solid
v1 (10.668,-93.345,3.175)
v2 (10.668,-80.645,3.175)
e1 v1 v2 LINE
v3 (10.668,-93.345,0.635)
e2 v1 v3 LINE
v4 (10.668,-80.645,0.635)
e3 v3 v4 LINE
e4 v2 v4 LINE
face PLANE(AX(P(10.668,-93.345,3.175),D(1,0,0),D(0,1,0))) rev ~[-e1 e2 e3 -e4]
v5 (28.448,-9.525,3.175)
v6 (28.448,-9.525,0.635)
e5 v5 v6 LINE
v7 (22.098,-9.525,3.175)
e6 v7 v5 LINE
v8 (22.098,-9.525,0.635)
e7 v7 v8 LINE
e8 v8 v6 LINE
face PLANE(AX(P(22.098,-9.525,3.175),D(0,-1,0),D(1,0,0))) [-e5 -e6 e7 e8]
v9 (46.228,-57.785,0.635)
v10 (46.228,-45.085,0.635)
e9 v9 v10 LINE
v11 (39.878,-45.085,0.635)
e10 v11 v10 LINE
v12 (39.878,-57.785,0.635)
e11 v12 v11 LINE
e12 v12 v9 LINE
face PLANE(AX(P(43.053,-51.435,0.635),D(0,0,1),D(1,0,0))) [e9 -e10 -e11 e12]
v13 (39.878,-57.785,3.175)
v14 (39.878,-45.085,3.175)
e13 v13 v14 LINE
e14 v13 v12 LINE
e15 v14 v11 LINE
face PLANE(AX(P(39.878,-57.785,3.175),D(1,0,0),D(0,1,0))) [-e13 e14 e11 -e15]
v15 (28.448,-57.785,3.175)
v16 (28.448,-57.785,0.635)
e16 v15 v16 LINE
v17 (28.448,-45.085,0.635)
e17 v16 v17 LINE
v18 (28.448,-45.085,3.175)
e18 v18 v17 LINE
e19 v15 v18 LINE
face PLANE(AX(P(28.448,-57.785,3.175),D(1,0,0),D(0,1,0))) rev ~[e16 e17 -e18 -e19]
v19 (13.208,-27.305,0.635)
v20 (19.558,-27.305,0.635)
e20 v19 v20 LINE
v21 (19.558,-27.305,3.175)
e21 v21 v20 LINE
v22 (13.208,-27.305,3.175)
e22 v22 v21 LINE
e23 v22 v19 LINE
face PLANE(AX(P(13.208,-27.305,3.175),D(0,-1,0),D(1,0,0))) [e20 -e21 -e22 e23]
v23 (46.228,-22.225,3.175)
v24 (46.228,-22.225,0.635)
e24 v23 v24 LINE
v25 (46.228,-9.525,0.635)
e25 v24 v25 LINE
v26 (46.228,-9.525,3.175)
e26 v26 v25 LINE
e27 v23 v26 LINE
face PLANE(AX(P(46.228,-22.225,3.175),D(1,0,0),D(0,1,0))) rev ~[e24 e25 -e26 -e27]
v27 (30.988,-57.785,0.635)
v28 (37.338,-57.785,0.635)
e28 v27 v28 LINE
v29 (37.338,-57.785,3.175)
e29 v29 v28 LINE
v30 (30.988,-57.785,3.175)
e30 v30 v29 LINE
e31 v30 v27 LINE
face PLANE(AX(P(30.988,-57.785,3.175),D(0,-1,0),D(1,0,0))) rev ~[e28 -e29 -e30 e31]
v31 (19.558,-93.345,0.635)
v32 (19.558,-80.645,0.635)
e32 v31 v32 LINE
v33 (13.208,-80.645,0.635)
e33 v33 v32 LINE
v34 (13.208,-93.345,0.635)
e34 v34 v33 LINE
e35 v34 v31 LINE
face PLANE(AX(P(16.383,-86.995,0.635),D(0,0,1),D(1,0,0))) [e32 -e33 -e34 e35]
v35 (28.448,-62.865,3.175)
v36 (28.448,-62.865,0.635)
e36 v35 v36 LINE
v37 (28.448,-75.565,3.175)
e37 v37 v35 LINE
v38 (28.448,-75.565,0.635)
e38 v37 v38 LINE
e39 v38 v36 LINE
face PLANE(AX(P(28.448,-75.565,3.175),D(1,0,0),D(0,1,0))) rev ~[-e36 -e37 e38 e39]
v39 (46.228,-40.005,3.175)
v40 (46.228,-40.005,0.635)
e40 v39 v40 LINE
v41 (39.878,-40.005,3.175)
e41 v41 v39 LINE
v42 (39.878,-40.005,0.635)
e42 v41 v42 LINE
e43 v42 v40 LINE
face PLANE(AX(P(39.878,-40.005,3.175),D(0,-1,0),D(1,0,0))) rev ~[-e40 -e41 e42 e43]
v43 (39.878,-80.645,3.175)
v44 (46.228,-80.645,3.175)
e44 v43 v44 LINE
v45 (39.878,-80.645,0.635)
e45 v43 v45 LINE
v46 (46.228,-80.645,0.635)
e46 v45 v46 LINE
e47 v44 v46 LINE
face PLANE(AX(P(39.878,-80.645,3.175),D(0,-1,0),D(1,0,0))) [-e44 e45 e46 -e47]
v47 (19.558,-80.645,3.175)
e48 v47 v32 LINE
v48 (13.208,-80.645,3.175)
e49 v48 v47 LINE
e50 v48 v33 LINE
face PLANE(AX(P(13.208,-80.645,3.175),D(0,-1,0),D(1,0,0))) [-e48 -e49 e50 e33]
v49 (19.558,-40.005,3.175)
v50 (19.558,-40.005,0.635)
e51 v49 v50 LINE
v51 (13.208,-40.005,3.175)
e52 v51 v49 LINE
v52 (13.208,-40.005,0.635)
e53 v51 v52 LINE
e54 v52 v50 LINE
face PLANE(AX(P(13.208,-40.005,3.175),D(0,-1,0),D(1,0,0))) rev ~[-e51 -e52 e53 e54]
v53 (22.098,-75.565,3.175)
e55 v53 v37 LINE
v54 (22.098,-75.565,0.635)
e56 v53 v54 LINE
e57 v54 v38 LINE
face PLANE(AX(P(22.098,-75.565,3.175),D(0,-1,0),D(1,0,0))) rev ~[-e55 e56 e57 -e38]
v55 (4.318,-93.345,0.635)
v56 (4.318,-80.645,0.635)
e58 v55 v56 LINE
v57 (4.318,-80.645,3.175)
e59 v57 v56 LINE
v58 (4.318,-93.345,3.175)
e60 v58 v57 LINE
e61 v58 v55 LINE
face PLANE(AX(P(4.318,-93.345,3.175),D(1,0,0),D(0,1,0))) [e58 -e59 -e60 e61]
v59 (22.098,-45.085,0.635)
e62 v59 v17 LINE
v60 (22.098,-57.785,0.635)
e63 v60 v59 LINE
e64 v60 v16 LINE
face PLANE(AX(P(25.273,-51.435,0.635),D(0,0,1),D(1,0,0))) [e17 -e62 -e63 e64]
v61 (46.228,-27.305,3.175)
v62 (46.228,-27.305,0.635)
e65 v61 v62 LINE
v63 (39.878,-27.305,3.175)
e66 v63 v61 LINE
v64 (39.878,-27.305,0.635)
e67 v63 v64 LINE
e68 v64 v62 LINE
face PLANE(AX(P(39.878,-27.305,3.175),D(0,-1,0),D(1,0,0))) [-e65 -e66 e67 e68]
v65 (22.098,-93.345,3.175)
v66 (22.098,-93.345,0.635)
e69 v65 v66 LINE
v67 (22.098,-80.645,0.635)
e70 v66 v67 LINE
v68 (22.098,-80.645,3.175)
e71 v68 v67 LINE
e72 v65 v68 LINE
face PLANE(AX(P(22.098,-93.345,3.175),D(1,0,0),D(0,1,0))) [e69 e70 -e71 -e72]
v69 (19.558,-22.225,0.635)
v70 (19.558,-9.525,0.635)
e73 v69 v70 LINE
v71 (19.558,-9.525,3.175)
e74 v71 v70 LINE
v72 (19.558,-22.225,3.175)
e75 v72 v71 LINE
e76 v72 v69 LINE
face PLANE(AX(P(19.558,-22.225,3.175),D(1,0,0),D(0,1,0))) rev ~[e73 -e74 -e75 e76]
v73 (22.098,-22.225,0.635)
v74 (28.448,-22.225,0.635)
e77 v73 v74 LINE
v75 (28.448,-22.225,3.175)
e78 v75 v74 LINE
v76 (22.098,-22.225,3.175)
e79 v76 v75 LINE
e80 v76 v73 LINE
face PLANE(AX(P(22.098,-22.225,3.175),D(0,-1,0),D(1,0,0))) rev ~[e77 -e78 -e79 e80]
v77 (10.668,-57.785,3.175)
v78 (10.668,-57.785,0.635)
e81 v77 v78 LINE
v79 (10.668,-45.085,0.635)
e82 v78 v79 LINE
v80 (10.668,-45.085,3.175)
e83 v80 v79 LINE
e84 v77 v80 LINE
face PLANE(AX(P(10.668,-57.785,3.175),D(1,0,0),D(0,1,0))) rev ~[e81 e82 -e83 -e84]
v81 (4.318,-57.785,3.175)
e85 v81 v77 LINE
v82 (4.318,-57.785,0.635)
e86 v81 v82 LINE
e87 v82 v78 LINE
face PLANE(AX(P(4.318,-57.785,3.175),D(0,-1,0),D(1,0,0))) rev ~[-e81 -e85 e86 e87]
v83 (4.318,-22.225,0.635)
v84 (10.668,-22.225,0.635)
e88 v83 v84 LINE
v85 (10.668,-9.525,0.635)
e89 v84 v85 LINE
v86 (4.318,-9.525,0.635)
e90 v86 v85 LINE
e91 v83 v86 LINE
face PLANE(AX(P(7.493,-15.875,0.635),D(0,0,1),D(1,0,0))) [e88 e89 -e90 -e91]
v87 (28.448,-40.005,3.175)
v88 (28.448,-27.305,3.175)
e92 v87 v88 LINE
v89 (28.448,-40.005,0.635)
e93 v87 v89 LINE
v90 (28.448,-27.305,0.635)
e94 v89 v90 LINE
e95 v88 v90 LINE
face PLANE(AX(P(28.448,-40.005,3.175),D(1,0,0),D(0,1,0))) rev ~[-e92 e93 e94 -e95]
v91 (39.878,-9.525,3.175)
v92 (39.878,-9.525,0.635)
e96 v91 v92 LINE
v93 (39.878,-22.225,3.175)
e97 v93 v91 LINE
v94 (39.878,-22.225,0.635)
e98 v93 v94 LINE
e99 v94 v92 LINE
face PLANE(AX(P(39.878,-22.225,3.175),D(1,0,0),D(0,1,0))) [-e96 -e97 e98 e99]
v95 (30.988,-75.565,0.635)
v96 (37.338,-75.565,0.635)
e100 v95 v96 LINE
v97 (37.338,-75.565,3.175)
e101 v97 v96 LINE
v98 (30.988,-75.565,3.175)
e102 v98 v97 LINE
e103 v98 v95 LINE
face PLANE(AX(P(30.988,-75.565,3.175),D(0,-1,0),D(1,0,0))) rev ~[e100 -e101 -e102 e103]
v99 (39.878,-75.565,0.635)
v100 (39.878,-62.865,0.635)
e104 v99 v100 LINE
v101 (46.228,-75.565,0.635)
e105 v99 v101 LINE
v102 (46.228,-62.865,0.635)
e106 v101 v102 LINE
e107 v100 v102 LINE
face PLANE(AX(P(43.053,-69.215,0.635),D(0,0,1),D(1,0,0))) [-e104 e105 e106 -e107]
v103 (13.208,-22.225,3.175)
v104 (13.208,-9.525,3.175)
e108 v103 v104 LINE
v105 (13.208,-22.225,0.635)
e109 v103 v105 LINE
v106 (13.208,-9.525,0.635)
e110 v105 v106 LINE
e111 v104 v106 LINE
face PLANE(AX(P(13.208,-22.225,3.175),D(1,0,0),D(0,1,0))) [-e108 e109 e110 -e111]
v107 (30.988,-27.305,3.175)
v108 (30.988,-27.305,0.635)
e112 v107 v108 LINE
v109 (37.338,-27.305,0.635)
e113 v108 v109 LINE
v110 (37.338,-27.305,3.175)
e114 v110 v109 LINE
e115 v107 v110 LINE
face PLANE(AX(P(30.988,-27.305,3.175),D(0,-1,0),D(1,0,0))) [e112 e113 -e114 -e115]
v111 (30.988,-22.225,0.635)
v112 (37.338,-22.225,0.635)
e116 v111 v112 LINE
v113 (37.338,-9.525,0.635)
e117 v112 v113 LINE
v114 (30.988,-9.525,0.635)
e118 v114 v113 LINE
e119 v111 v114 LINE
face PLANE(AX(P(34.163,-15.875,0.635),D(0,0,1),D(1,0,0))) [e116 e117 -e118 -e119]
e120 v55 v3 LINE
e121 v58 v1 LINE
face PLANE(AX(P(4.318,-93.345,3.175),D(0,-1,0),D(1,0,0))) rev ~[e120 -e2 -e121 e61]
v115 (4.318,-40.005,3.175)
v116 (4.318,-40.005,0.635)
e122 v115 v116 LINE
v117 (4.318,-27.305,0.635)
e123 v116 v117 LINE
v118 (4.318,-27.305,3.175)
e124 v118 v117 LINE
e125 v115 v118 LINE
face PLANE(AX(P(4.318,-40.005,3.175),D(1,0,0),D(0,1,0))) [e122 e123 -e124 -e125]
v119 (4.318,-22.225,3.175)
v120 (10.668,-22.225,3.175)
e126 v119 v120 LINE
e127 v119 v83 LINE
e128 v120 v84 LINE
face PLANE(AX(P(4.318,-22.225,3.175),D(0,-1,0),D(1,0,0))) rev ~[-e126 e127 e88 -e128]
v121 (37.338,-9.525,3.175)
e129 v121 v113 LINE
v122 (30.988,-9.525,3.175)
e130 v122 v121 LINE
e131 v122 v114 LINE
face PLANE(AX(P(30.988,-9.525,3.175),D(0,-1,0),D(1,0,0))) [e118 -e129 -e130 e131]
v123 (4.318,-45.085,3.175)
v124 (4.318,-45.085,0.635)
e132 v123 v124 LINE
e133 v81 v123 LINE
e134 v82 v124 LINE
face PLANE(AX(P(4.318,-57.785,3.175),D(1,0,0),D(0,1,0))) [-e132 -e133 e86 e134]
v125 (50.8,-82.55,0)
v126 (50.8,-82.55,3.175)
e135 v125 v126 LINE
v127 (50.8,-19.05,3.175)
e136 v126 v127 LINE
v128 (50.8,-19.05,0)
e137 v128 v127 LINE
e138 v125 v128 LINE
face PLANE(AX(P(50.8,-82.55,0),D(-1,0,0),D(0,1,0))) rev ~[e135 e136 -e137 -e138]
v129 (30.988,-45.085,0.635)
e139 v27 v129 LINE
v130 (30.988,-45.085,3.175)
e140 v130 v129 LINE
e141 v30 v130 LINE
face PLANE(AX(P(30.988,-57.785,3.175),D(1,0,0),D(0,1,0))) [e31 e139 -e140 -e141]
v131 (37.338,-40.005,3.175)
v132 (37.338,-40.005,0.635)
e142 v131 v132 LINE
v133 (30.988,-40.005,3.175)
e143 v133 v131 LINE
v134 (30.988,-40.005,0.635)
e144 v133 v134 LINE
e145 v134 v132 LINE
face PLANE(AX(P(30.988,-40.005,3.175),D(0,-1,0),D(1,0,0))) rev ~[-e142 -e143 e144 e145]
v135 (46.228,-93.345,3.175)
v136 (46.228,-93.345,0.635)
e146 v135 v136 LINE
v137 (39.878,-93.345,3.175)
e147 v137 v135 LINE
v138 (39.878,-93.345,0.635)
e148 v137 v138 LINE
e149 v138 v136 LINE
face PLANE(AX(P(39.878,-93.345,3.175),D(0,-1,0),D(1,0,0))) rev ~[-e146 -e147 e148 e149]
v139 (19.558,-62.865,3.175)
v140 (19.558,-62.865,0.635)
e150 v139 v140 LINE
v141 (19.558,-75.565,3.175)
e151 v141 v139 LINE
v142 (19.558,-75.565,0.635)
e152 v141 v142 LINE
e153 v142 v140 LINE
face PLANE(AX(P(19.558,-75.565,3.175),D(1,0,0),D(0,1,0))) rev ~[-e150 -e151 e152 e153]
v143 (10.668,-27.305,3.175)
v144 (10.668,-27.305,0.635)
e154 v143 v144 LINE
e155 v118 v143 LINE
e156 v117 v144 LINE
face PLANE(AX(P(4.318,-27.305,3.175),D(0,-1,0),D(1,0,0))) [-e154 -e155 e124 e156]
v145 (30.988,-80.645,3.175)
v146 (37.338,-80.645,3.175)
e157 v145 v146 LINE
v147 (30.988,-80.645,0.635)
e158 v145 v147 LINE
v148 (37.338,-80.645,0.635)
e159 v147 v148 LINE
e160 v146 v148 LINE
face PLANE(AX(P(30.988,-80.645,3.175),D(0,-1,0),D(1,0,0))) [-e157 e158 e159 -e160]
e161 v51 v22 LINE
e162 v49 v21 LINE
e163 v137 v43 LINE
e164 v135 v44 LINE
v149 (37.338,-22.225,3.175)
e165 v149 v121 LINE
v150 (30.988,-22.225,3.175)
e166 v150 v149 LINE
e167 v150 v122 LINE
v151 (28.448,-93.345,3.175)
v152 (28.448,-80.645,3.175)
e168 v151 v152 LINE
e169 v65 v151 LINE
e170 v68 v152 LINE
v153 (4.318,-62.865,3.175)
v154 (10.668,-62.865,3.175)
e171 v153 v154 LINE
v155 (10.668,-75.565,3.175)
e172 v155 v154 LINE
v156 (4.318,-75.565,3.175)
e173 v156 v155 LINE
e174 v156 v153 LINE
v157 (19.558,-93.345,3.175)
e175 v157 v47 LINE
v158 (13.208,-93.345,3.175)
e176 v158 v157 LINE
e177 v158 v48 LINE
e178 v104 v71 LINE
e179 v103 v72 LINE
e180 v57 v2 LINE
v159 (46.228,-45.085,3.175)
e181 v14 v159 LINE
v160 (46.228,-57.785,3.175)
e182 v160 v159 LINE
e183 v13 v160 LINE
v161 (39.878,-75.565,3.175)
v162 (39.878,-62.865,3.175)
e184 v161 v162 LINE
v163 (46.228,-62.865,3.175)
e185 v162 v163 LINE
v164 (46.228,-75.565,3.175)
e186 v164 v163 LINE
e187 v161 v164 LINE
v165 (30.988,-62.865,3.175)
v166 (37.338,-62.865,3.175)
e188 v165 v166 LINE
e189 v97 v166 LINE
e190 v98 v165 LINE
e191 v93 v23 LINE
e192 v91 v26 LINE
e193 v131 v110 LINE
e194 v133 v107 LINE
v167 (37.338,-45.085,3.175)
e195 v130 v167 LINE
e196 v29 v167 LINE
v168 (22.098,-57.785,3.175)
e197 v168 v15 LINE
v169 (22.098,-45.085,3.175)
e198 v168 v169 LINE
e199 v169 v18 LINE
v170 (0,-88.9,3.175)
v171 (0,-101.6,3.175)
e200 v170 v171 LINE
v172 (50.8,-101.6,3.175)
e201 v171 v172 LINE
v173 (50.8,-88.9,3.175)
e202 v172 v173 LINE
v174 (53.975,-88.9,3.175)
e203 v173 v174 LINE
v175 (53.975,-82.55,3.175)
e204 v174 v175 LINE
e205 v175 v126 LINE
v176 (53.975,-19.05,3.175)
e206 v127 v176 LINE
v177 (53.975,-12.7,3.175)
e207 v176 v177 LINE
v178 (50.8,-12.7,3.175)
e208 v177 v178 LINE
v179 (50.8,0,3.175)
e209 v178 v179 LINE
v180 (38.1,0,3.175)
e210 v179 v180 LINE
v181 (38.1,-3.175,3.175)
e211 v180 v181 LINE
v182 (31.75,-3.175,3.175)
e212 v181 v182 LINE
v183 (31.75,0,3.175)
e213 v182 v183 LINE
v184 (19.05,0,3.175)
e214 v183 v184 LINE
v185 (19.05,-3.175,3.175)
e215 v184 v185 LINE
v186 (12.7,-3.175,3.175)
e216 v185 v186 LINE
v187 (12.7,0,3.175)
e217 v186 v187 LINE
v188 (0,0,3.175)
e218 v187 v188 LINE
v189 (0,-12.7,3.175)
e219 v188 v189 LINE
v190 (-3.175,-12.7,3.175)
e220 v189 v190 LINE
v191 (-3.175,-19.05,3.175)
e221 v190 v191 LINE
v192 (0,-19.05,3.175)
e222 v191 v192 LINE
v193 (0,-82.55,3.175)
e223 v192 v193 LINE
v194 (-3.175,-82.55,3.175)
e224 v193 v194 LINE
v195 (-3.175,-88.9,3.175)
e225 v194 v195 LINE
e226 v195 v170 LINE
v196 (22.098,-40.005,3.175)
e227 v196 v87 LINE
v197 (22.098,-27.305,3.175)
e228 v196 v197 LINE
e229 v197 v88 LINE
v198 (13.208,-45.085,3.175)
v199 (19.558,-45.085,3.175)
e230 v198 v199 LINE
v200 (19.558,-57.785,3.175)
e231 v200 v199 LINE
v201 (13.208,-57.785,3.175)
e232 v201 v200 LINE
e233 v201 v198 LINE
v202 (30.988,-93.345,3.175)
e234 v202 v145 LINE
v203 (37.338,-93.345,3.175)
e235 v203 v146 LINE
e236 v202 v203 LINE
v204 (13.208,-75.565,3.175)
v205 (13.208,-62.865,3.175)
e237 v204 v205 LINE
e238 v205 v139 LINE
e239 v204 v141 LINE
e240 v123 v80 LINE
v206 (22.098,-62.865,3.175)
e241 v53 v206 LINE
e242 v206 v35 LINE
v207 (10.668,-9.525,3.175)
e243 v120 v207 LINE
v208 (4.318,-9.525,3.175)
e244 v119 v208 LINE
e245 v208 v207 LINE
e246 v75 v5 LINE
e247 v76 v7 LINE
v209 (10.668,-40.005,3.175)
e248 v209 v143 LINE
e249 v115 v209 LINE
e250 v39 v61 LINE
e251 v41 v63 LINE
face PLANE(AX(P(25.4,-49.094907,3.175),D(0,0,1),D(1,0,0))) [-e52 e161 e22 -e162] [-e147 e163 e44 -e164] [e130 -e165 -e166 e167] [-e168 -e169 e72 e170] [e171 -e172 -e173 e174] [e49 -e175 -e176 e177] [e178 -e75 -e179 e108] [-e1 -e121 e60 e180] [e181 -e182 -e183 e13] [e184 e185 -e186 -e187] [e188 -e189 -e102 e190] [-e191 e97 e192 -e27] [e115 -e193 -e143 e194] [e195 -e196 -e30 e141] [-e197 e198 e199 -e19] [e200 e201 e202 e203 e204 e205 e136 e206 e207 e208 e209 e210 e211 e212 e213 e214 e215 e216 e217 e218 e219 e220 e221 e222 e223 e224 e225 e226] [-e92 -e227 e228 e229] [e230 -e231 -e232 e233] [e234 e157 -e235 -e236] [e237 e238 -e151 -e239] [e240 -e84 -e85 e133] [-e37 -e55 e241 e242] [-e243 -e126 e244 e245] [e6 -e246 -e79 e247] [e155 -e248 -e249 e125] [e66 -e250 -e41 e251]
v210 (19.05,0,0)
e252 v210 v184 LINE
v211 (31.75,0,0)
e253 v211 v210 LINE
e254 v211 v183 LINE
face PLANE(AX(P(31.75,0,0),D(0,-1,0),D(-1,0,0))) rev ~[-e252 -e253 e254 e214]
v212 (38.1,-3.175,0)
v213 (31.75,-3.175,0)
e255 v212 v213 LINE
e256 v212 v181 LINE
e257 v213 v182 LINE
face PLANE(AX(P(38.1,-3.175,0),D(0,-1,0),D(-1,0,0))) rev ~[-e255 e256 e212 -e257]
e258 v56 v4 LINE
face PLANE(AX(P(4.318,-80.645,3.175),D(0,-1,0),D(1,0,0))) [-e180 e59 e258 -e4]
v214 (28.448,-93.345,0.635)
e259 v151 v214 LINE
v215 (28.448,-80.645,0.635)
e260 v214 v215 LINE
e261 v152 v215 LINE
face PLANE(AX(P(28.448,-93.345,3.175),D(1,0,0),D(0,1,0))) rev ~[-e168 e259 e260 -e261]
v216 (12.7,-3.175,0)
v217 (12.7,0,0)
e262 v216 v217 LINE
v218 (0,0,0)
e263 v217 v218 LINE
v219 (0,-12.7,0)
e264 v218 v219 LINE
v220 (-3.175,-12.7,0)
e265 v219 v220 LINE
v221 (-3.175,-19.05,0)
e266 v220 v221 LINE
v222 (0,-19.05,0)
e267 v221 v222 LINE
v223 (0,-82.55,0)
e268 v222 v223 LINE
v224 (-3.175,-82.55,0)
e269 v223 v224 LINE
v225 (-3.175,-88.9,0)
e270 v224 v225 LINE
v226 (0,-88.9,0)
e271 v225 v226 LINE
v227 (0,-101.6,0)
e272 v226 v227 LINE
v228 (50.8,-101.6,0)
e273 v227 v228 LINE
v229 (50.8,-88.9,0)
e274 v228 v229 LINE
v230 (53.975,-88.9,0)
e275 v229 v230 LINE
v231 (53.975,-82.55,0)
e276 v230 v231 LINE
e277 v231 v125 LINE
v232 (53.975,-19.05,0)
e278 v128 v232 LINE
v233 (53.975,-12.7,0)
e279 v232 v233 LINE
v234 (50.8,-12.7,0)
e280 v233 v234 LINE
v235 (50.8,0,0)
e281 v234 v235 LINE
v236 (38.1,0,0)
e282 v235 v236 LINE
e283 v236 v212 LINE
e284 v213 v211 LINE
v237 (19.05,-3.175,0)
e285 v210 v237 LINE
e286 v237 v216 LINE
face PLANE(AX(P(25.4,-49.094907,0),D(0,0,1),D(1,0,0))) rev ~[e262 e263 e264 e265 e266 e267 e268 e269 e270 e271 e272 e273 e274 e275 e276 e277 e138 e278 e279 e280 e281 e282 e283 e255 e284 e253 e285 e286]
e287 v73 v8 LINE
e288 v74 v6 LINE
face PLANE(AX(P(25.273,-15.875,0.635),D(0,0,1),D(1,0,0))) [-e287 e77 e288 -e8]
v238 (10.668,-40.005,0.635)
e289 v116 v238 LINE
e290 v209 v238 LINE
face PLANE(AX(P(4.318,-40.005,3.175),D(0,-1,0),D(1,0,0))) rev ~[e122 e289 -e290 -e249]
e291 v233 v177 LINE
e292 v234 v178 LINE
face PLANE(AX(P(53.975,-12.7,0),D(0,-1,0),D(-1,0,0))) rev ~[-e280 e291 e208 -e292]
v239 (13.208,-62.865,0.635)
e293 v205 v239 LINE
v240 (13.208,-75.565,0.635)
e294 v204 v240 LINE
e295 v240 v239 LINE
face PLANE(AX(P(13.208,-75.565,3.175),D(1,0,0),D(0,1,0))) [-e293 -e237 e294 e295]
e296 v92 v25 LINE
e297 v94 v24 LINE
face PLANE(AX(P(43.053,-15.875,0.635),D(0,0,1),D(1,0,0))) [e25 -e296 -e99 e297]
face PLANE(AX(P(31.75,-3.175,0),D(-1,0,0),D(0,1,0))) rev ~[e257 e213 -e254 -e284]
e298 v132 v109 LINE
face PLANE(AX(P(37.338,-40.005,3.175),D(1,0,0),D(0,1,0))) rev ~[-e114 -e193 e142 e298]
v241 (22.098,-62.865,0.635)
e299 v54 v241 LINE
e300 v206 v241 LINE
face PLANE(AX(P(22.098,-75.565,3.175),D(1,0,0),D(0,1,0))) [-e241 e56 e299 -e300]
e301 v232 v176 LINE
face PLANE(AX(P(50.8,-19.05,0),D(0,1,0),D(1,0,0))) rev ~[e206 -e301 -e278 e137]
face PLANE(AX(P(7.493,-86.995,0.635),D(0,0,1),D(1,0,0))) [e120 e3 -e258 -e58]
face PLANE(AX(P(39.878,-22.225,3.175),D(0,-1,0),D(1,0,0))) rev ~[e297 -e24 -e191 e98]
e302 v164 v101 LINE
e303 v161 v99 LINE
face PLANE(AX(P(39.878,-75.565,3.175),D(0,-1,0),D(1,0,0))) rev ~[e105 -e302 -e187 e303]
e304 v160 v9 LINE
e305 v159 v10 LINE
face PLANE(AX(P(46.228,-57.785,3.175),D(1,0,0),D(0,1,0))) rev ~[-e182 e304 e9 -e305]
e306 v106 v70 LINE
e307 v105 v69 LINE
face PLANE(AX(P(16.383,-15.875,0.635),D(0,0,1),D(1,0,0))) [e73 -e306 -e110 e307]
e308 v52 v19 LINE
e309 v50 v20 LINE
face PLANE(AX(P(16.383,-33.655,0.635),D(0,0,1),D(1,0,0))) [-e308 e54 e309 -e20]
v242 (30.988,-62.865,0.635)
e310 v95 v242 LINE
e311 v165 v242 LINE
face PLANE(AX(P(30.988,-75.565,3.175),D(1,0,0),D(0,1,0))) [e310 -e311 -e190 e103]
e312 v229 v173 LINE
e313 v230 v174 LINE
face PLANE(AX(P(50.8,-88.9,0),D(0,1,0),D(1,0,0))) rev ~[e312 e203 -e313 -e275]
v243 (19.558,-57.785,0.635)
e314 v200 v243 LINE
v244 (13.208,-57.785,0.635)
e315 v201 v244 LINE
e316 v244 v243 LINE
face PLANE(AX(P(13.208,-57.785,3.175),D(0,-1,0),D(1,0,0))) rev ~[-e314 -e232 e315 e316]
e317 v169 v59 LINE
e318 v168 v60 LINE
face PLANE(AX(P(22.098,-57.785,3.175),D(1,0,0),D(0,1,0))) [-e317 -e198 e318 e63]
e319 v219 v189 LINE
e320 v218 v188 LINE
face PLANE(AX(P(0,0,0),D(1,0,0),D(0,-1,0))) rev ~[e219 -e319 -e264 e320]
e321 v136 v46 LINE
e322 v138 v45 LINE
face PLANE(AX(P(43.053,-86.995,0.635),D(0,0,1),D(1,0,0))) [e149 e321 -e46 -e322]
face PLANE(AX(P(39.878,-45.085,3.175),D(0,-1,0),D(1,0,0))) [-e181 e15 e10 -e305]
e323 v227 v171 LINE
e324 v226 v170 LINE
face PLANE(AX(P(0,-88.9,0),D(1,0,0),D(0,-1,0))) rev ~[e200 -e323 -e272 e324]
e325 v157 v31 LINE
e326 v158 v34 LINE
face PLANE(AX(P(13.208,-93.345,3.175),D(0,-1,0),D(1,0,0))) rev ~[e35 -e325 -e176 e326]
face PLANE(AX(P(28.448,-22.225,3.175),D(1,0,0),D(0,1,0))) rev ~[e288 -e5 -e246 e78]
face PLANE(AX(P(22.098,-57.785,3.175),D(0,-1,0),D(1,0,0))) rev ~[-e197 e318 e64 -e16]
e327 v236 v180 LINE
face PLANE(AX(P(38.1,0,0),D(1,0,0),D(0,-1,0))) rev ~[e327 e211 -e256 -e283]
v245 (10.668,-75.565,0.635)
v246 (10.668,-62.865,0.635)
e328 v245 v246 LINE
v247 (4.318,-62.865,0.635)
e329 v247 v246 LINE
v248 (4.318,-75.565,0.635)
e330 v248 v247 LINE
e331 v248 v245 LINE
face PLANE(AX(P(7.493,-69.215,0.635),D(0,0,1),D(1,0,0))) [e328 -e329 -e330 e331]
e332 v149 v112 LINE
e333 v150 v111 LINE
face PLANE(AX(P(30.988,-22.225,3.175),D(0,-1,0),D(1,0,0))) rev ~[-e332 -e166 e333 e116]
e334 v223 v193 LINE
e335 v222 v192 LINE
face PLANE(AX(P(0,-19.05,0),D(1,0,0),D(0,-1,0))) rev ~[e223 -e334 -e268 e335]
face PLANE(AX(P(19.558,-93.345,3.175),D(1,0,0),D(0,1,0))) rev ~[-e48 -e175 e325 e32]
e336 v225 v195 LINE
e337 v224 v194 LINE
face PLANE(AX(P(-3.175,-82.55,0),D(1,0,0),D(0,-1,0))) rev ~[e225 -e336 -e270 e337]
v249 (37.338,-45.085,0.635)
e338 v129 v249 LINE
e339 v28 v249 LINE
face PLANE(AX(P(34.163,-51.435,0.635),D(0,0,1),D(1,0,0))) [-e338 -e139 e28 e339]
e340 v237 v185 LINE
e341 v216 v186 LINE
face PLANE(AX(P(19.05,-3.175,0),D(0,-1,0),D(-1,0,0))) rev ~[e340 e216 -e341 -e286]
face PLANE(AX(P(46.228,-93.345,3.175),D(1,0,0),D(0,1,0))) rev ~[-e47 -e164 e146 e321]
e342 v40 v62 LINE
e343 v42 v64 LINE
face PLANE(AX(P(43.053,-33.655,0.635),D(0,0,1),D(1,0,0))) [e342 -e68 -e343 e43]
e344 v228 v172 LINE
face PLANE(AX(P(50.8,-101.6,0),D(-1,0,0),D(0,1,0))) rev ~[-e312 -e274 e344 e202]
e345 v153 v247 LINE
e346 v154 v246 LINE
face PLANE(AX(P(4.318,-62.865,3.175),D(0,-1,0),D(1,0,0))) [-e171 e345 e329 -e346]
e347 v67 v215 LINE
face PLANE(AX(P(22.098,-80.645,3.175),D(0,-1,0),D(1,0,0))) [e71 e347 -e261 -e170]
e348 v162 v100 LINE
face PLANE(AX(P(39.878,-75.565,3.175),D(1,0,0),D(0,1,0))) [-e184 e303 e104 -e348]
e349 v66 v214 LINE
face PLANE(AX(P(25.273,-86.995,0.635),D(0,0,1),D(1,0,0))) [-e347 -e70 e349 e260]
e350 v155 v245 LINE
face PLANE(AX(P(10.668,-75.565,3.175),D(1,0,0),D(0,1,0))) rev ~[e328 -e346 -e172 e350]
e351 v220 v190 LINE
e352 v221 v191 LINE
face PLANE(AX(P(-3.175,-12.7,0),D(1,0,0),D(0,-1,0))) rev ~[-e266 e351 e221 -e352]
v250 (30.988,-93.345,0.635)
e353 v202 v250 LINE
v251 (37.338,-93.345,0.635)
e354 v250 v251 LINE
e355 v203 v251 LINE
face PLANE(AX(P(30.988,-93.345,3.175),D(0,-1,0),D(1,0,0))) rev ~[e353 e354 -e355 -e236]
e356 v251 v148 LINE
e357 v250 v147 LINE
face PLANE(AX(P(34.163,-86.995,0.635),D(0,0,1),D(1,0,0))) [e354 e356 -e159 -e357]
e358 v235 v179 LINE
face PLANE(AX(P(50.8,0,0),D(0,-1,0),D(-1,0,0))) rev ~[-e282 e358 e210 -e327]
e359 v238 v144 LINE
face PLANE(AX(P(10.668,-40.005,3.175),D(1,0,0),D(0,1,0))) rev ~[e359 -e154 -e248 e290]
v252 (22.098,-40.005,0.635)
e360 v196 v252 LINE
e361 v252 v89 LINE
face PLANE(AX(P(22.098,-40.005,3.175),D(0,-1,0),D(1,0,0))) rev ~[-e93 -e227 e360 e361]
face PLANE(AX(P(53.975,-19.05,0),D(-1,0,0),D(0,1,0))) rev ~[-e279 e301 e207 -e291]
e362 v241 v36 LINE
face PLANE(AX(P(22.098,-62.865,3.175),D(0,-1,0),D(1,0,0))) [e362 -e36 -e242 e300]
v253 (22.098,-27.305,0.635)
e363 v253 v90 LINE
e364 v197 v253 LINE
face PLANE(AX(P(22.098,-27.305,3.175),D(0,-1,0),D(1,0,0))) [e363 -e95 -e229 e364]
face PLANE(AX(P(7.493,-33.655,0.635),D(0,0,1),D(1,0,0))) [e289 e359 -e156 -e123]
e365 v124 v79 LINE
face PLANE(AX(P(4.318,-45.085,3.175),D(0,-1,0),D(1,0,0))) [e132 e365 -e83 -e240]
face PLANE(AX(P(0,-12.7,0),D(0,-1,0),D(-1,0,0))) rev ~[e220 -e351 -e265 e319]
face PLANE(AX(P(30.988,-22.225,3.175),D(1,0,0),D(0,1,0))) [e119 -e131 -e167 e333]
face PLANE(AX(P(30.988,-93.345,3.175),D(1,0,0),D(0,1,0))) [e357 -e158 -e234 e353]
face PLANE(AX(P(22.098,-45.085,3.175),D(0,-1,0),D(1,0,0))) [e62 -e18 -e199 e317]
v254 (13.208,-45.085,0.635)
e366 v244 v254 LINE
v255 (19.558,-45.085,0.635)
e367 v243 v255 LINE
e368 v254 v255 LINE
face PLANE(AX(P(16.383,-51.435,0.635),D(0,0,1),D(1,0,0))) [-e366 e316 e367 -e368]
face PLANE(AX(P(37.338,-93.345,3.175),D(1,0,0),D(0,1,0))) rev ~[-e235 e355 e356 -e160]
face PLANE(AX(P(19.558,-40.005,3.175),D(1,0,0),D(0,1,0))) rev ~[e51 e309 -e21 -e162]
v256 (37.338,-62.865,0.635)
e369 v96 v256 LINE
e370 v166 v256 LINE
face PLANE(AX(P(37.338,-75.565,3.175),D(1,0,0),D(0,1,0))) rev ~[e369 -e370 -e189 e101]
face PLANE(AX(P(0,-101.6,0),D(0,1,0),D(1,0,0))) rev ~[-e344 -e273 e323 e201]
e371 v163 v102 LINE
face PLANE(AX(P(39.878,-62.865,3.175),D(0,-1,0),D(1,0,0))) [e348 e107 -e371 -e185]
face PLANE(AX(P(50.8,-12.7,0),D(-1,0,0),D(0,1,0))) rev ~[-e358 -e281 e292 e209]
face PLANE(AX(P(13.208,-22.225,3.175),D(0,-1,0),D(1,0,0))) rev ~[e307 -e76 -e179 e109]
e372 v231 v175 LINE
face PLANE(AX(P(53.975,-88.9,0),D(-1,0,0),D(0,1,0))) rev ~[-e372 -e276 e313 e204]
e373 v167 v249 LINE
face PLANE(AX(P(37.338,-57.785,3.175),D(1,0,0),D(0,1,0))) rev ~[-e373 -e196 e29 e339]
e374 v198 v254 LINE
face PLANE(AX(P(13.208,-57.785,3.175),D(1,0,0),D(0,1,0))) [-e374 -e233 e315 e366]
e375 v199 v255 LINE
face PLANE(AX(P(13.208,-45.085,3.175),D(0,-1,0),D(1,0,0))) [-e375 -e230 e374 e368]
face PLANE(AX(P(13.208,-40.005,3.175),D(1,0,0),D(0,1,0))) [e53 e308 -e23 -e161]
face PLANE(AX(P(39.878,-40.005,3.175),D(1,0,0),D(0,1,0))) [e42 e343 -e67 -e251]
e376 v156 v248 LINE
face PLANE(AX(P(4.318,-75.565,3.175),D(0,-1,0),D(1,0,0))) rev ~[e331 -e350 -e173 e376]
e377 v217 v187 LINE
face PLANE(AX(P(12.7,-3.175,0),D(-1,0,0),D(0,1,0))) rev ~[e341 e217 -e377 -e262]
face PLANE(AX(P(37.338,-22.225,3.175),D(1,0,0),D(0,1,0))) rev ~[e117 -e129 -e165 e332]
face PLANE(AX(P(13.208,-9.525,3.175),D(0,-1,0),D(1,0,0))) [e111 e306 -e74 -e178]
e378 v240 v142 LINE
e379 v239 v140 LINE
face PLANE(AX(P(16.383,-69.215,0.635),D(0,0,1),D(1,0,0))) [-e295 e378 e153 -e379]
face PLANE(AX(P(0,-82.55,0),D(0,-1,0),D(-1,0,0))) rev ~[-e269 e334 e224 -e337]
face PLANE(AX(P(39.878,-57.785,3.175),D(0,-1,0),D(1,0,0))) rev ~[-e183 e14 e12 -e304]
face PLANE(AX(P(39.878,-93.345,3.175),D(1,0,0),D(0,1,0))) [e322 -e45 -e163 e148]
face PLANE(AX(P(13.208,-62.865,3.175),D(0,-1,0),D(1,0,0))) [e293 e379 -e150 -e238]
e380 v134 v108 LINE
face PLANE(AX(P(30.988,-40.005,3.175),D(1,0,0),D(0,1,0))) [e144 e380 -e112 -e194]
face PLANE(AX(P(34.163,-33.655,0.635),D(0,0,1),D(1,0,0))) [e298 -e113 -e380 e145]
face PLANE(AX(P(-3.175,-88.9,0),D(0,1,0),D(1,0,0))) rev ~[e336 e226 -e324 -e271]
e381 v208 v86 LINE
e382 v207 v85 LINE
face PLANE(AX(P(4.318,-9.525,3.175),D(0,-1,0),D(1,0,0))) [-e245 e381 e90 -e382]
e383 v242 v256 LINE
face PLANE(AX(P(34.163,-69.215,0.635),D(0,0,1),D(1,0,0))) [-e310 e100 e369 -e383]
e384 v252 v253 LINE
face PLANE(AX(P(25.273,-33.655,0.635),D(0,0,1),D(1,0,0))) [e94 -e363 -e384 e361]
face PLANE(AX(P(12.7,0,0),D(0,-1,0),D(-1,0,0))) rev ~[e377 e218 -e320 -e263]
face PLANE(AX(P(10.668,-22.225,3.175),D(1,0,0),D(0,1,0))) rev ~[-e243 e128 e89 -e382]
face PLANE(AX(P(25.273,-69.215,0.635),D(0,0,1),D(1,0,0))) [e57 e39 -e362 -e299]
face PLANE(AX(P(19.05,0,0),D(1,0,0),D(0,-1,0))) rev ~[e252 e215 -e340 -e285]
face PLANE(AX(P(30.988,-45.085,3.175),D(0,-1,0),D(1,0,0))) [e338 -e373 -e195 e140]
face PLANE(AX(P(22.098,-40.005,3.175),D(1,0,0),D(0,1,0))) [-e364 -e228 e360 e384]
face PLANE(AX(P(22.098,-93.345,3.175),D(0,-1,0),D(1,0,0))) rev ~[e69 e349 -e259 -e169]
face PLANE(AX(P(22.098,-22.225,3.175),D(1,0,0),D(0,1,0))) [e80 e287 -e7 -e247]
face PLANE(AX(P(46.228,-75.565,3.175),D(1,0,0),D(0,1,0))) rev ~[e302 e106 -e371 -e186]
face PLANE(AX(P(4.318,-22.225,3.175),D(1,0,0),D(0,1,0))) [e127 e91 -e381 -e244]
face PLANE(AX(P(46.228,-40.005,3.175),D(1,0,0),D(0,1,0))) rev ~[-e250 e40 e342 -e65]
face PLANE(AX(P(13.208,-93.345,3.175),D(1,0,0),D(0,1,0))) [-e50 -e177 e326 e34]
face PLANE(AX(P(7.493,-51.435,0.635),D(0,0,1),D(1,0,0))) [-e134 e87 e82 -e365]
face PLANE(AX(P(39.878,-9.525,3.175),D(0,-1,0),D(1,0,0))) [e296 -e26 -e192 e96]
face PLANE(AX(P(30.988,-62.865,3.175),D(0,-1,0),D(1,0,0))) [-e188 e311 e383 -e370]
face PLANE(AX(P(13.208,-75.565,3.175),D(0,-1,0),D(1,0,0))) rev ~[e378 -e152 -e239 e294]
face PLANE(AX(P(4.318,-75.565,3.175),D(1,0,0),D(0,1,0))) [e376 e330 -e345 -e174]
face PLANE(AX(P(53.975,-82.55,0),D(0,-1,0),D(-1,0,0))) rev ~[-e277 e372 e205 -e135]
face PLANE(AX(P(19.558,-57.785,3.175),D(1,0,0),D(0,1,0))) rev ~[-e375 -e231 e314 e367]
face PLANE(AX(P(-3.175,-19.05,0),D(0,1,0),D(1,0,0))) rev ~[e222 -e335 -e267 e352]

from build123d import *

# Parameters (mm, degrees)
BOSS_EXTRUDE1_DEPTH  = 3.175
SKETCH2_W            = 6.35
SKETCH2_H            = 12.7
CUT_EXTRUDE1_DEPTH   = 2.54
LPATTERN1_COUNT      = 5
LPATTERN1_PITCH      = 8.89
LPATTERN1_COUNT_DIR2 = 5
LPATTERN1_PITCH_DIR2 = 17.78


with BuildPart() as part:
    # Sketch1 → Boss-Extrude1 (new body)
    with BuildSketch(Plane.XY):
        Polygon((31.75, 0), (19.05, 0), (19.05, -3.175), (12.7, -3.175), (12.7, 0), (0, 0), (0, -12.7), (-3.175, -12.7), (-3.175, -19.05), (0, -19.05), (0, -82.55), (-3.175, -82.55), (-3.175, -88.9), (0, -88.9), (0, -101.6), (12.7, -101.6), (50.8, -101.6), (50.8, -88.9), (53.975, -88.9), (53.975, -82.55), (50.8, -82.55), (50.8, -19.05), (53.975, -19.05), (53.975, -12.7), (50.8, -12.7), (50.8, 0), (38.1, 0), (38.1, -3.175), (31.75, -3.175), align=None)
    extrude(amount=BOSS_EXTRUDE1_DEPTH)

    # Sketch2 → Cut-Extrude1 (cut)
    with BuildSketch(Plane.XY.offset(3.175)):
        with Locations((7.493, -15.875)):
            Rectangle(SKETCH2_W, SKETCH2_H)
    cut_extrude1 = extrude(amount=-CUT_EXTRUDE1_DEPTH, mode=Mode.SUBTRACT)

    # LPattern1: Cut-Extrude1 5 × 5
    with Locations(*[(i * LPATTERN1_PITCH, -j * LPATTERN1_PITCH_DIR2, 0) for i in range(LPATTERN1_COUNT) for j in range(LPATTERN1_COUNT_DIR2) if (i, j) != (0, 0)]):
        add(cut_extrude1, mode=Mode.SUBTRACT)


solid = part.part
